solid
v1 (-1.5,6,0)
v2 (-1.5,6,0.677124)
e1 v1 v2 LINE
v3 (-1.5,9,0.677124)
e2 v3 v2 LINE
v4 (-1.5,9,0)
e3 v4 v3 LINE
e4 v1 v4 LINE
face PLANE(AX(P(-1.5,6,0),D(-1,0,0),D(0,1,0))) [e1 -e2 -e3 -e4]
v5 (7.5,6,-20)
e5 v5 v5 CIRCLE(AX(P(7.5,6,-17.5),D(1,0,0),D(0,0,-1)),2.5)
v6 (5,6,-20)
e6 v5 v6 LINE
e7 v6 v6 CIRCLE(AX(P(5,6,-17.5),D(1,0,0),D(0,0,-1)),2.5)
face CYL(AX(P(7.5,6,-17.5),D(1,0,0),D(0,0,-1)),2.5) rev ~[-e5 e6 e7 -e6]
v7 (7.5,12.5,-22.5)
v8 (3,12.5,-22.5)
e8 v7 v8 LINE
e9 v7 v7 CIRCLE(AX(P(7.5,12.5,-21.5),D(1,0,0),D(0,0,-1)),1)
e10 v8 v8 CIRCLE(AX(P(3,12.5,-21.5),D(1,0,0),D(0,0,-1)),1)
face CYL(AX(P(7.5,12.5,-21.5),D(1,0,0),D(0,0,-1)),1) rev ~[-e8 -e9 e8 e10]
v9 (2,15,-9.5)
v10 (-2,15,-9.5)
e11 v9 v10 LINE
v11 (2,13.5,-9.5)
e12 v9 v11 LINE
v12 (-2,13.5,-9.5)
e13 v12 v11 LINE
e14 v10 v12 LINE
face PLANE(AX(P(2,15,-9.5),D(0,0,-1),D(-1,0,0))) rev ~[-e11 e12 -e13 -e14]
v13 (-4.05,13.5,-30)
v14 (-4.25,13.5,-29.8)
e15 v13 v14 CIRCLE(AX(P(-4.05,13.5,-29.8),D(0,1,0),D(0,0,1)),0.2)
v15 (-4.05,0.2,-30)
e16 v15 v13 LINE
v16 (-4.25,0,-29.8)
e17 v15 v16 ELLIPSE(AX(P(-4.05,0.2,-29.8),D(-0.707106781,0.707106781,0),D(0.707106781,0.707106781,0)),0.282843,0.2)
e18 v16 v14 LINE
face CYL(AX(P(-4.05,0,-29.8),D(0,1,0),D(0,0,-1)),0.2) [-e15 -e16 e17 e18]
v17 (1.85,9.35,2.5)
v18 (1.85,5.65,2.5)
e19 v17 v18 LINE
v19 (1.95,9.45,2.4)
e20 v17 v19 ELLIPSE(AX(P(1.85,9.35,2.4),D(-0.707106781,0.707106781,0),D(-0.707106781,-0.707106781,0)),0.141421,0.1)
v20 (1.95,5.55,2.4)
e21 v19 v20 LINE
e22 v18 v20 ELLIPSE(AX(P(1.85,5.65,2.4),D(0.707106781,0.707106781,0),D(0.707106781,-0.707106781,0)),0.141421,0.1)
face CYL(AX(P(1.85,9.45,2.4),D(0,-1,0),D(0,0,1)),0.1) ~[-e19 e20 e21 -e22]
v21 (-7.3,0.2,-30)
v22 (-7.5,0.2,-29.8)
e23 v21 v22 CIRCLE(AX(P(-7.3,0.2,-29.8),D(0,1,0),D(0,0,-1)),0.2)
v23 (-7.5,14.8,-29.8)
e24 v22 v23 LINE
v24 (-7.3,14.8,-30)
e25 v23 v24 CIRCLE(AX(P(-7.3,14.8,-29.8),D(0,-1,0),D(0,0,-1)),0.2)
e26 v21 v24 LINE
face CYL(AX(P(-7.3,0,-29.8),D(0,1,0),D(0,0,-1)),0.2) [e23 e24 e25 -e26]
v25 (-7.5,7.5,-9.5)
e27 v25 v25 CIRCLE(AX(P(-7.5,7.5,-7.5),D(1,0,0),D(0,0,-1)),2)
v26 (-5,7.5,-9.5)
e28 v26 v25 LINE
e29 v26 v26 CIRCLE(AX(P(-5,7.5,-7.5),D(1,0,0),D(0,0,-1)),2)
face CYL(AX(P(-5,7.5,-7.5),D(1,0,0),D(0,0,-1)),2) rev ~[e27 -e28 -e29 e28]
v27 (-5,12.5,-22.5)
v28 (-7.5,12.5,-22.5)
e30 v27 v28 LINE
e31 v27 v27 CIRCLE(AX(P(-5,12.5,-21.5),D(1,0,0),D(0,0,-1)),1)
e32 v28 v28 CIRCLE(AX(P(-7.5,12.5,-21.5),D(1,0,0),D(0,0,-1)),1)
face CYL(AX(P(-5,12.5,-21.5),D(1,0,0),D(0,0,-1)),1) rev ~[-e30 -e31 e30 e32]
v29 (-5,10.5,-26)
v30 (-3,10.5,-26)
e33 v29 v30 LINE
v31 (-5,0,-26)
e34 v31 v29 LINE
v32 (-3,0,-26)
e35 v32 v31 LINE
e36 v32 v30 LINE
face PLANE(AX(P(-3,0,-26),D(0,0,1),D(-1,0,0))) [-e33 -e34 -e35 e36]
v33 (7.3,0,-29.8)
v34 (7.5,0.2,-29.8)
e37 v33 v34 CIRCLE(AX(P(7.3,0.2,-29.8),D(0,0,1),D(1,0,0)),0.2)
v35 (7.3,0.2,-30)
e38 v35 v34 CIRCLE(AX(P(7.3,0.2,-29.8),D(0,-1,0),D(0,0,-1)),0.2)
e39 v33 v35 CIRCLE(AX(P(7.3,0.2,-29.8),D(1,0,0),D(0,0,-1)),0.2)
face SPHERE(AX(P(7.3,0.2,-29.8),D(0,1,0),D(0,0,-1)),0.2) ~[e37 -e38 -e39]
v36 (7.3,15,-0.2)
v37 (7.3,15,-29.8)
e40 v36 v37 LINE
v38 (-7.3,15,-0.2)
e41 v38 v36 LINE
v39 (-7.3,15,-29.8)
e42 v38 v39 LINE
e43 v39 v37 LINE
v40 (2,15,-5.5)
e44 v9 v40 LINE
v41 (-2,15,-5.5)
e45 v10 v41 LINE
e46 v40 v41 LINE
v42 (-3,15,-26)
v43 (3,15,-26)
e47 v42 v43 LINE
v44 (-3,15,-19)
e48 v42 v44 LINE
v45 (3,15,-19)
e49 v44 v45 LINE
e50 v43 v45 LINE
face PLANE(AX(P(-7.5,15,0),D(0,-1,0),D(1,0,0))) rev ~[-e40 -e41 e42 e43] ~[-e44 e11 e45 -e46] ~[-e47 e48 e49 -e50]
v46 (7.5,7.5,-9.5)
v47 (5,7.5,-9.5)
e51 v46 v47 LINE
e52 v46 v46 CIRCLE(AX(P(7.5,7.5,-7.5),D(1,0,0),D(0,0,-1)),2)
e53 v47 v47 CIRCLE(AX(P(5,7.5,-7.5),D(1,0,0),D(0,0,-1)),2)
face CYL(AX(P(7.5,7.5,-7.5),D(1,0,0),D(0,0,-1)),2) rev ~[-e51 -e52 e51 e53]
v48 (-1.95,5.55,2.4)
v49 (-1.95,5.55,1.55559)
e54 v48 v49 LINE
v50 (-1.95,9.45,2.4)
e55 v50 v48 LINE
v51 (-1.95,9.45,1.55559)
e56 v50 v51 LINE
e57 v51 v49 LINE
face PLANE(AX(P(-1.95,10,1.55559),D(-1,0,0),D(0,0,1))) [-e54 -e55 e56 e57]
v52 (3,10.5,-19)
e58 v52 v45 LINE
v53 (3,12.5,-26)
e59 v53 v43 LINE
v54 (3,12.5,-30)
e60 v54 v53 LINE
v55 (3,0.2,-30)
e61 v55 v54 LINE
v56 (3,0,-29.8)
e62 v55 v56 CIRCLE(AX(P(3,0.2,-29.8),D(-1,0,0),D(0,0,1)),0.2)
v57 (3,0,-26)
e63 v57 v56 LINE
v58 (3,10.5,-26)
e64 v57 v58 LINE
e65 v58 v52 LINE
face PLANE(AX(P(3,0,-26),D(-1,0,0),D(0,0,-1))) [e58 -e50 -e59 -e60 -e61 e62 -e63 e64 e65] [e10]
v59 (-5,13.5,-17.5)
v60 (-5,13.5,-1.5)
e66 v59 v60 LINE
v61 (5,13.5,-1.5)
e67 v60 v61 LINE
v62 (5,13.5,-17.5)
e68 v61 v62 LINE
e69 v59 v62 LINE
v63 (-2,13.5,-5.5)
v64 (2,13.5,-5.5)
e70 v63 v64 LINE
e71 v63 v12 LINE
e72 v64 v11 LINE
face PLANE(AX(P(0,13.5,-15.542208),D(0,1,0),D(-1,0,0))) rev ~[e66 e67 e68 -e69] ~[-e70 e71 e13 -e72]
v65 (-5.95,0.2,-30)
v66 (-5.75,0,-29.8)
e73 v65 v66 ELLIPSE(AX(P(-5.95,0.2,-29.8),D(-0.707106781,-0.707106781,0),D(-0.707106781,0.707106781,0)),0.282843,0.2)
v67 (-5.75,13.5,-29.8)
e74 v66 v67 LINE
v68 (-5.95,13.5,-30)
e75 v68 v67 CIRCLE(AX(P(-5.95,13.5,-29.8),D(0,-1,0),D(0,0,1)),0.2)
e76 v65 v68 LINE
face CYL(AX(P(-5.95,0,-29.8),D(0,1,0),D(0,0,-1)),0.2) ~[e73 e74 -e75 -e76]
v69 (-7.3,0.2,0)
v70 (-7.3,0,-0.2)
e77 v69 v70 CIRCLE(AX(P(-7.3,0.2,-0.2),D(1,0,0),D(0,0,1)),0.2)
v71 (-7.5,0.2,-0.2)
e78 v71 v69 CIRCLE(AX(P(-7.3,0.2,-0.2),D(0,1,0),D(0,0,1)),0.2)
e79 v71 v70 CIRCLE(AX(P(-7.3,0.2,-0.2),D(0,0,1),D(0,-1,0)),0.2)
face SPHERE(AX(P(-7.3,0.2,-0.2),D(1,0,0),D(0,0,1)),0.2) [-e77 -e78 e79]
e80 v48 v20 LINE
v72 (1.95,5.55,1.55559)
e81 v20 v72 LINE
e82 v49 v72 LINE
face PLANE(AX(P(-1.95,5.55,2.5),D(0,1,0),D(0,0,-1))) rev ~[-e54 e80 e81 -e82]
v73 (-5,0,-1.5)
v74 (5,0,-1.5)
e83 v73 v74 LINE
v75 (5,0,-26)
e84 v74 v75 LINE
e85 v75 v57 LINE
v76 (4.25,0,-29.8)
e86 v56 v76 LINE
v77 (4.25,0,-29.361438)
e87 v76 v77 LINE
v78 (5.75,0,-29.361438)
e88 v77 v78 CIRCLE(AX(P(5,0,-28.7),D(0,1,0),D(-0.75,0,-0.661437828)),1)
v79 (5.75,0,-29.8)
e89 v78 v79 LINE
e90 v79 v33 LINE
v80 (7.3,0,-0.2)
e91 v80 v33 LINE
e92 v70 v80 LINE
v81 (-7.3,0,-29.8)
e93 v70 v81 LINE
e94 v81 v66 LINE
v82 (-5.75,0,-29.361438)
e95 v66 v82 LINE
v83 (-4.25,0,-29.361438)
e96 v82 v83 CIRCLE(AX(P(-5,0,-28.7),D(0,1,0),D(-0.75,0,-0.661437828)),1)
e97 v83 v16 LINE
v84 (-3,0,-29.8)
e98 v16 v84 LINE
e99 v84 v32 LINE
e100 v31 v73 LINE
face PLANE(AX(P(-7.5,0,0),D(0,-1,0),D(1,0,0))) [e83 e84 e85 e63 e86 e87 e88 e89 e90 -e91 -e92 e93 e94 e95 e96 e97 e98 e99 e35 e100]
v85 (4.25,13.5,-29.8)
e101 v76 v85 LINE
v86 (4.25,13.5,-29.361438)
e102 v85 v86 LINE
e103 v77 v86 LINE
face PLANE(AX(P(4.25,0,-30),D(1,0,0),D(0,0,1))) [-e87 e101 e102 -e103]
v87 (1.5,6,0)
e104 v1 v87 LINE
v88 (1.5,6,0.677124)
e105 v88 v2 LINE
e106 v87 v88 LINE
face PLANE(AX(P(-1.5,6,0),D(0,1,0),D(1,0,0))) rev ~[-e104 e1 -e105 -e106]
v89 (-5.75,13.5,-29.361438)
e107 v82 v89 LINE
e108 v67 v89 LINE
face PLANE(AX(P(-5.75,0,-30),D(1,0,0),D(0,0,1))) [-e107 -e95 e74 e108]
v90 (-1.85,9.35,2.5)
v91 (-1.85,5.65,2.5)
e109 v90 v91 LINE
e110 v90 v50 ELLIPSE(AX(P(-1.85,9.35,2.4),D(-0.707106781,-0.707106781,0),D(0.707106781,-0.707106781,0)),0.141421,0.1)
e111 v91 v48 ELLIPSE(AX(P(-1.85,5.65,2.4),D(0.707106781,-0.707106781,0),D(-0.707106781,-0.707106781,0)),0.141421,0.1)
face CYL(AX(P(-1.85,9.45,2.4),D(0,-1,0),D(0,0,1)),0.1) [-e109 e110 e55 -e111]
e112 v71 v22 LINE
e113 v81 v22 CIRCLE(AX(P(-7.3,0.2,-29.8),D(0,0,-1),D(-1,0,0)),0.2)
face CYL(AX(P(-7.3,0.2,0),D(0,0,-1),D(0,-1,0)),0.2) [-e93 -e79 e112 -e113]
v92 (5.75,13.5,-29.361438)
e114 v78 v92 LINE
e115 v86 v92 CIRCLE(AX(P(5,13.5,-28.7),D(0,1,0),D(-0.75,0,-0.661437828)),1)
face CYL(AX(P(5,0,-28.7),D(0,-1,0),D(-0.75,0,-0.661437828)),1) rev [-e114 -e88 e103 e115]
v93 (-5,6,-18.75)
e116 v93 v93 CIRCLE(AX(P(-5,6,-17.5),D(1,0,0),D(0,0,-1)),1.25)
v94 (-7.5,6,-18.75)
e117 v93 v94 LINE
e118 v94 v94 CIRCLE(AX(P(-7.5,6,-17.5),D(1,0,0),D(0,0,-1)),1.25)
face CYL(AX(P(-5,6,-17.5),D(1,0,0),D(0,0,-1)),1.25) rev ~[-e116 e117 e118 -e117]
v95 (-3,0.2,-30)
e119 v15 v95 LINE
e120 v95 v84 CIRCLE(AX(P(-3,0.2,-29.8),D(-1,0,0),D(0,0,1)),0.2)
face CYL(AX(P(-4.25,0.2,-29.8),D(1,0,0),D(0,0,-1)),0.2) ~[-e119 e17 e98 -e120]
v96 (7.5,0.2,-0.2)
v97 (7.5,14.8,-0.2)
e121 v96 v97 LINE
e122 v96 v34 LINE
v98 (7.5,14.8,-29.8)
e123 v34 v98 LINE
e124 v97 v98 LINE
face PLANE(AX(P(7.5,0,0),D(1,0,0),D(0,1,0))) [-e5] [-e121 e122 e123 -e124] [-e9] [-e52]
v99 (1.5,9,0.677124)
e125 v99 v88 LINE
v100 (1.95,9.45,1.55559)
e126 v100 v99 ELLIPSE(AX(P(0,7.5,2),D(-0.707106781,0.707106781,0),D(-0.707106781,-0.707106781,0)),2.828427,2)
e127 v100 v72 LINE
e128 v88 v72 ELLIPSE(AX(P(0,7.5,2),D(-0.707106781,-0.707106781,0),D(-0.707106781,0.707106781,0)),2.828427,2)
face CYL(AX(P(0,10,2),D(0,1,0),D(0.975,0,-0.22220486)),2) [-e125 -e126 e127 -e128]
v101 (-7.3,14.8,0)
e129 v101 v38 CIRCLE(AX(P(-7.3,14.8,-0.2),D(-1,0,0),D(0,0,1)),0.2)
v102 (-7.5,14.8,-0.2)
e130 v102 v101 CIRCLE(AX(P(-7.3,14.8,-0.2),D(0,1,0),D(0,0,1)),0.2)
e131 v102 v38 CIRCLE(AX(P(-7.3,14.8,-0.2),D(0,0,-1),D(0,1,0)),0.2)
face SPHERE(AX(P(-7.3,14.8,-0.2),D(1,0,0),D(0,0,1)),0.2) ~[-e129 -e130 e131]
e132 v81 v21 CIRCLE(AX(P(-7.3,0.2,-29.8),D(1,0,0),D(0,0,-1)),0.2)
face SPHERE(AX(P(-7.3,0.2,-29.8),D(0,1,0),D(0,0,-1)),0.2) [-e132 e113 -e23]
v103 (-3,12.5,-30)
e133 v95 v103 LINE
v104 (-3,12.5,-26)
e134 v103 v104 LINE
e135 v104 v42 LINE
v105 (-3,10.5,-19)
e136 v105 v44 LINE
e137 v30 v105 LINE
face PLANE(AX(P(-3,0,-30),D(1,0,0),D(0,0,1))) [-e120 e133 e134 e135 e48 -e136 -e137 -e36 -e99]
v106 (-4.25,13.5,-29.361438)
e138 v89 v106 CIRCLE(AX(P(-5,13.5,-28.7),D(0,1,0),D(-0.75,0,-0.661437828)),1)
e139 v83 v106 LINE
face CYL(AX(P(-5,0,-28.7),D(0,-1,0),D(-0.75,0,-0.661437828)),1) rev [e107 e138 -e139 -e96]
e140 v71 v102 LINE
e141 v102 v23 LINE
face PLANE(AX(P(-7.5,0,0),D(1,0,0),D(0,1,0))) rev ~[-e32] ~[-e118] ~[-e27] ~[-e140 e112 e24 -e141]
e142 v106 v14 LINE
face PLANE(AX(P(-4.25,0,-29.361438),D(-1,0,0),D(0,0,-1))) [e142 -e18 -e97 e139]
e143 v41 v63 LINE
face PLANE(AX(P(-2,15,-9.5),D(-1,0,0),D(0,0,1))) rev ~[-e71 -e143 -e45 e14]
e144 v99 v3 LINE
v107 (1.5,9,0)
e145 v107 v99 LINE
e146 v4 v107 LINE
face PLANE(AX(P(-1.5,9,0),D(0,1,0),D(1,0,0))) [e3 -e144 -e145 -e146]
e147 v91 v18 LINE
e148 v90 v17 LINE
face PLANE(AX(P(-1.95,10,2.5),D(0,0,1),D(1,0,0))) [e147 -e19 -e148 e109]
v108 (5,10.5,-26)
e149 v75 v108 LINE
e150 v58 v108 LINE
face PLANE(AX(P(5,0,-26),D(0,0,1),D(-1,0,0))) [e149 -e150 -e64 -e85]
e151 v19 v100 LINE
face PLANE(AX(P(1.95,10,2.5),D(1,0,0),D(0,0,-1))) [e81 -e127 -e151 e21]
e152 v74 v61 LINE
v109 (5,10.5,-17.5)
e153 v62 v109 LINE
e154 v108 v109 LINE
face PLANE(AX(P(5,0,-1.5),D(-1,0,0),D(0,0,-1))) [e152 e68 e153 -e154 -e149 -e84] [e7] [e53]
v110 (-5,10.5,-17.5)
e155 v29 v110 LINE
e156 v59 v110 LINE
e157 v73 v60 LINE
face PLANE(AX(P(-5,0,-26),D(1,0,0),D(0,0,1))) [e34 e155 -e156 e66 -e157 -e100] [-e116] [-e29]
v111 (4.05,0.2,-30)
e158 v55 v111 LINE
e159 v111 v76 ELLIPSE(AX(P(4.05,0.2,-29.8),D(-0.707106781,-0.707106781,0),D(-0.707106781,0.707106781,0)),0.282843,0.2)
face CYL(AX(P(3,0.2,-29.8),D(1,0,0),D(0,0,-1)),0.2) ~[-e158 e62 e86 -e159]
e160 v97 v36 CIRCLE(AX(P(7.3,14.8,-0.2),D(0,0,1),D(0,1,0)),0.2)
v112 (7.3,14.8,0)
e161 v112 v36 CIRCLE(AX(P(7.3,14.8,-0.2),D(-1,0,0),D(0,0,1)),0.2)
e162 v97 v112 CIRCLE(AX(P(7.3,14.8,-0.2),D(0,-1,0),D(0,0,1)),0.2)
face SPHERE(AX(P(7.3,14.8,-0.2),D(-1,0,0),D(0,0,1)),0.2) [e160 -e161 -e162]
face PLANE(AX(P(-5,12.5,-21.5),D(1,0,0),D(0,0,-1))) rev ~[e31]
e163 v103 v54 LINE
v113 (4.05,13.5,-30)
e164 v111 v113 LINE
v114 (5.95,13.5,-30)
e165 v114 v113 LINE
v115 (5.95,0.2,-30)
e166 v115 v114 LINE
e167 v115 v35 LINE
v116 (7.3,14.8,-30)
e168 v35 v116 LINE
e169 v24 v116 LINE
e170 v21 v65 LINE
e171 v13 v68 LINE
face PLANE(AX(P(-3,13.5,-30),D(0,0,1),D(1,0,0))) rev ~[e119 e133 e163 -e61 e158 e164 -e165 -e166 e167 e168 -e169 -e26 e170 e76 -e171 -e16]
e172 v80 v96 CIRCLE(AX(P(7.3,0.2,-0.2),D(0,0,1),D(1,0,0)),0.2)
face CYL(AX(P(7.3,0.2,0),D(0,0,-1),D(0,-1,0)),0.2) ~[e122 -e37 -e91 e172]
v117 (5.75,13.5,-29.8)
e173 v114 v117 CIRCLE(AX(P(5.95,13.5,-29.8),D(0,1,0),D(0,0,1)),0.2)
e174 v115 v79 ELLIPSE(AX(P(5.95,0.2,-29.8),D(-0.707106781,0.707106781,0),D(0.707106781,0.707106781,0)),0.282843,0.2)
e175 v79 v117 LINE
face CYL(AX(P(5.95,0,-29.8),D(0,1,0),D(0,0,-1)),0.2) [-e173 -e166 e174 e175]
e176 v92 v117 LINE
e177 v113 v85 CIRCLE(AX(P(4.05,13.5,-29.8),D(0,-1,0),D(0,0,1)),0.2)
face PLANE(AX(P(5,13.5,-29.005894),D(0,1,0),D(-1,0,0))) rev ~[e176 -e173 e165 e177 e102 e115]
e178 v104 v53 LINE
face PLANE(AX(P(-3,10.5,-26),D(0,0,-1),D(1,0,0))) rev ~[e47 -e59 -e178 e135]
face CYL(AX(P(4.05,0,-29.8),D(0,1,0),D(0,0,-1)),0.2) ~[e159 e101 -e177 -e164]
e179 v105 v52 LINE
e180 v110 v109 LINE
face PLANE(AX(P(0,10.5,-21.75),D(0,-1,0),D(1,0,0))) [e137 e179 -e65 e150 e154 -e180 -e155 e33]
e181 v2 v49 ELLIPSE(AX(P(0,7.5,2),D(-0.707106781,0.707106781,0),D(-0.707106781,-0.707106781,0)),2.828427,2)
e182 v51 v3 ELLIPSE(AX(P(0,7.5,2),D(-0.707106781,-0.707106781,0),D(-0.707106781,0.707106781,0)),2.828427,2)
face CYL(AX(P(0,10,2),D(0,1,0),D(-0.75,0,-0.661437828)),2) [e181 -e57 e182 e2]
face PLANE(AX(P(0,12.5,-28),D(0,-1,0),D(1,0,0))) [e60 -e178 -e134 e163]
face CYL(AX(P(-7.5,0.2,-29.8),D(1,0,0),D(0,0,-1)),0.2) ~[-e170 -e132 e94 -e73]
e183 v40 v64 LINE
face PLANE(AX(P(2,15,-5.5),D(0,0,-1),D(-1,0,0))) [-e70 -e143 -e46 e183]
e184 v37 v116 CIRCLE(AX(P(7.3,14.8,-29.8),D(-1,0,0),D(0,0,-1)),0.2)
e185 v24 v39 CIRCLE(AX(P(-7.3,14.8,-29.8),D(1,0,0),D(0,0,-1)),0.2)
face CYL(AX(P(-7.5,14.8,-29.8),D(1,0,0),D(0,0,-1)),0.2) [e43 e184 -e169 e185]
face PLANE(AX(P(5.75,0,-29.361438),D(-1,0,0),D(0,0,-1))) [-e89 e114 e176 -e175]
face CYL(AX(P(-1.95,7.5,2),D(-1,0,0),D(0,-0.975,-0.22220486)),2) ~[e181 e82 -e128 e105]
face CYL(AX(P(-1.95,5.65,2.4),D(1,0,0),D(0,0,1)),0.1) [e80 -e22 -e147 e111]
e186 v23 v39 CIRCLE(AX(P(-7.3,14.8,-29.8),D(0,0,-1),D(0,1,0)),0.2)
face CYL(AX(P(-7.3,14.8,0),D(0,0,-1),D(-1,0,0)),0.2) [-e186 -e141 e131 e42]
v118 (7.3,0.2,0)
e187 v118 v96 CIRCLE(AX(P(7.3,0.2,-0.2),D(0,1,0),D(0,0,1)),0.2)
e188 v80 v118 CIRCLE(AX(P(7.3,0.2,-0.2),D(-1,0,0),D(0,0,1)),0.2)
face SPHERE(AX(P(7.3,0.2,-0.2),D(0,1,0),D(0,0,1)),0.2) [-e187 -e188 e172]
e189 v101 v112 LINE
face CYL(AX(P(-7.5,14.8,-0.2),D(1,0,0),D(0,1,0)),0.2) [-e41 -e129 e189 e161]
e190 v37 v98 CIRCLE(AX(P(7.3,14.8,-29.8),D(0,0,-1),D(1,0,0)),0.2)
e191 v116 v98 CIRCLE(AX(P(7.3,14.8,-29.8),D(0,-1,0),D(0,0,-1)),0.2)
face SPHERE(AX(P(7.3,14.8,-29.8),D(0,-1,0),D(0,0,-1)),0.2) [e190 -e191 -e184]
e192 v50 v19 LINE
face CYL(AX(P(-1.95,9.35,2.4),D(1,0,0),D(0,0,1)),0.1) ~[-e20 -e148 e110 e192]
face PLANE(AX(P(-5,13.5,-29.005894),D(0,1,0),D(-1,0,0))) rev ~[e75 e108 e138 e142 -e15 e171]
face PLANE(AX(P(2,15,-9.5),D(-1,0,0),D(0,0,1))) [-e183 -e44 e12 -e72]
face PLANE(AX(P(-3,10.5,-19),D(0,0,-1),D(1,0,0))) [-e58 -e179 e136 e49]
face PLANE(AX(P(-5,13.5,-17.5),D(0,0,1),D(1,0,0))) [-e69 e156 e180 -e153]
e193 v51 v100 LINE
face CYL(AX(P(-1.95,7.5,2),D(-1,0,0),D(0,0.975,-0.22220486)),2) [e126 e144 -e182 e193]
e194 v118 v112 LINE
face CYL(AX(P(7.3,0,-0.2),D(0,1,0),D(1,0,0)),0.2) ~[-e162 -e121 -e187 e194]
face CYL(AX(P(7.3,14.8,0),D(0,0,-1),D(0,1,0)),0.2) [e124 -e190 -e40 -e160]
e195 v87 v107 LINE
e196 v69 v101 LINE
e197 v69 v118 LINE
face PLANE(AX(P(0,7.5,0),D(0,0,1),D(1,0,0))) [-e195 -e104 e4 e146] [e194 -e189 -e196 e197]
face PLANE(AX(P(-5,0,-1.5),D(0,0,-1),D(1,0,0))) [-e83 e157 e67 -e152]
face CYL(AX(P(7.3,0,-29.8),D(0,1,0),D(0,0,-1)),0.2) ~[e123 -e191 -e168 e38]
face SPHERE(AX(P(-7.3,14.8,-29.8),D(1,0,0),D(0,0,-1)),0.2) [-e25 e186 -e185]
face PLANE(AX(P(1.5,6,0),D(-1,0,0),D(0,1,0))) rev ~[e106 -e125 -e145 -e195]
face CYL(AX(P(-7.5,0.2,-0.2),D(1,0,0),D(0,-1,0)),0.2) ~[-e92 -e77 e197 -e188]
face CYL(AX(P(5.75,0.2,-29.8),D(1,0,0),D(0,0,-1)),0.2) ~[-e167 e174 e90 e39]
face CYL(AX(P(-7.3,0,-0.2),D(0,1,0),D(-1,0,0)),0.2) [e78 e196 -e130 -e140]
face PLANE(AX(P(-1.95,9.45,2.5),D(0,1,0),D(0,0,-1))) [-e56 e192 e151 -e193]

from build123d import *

# Parameters (mm, degrees)
SKETCH_1_W           = 15
SKETCH_1_H           = 15
EXTRUDE_1_DEPTH      = 30
SKETCH_2_W           = 3
SKETCH_2_H           = 3
EXTRUDE_2_DEPTH      = 1
EXTRUDE_3_DEPTH      = 1
EXTRUDE_3_DEPTH_BACK = 4
CUT_EXTRUDE_1_REACH  = 36.847
FILLET_1_R           = 0.1
CUT_EXTRUDE_2_DEPTH  = 13.5
SKETCH_6_W           = 10
SKETCH_6_H           = 8.5
EXTRUDE_4_DEPTH      = 3
SKETCH_7_W           = 6
SKETCH_7_H           = 4
EXTRUDE_5_DEPTH      = 1
SKETCH_8_W           = 6
SKETCH_8_H           = 7
CUT_EXTRUDE_3_DEPTH  = 33.657311586
CUT_EXTRUDE_4_DEPTH  = 13.5
CUT_EXTRUDE_5_REACH  = 36.369
SKETCH_11_W          = 4
SKETCH_11_H          = 4
CUT_EXTRUDE_6_REACH  = 38.742
SKETCH_12_R          = 2.5
SKETCH_12_R_2        = 2
SKETCH_12_R_3        = 1
CUT_EXTRUDE_7_REACH  = 37.795
SKETCH_14_R          = 2
SKETCH_14_R_2        = 1
SKETCH_14_R_3        = 1.25
FILLET_2_R           = 0.2


with BuildPart() as part:
    # 草图1 → 凸台-拉伸1 (new body)
    with BuildSketch(Plane.XY):
        with Locations((0, 7.5)):
            Rectangle(SKETCH_1_W, SKETCH_1_H)
    extrude(amount=-EXTRUDE_1_DEPTH)

    # 草图2 → 凸台-拉伸2 (add)
    with BuildSketch(Plane.XY):
        with Locations((0, 7.5)):
            Rectangle(SKETCH_2_W, SKETCH_2_H)
    extrude(amount=EXTRUDE_2_DEPTH)

    # 草图3 → 凸台-拉伸3 (add, two sides: drawn at the far end of the back side and taken through both)
    with BuildSketch(Plane.XZ.offset(-6).offset(-EXTRUDE_3_DEPTH_BACK)):
        with BuildLine():
            Line((-1.95, 2.5), (1.95, 2.5))
            Line((1.95, 2.5), (1.95, 1.555590279))
            ThreePointArc((1.95, 1.555590279), (1.780042303, 1.088161527), (1.5, 0.677124344))
            Line((1.5, 0.677124344), (-1.5, 0.677124344))
            ThreePointArc((-1.5, 0.677124344), (-1.780042303, 1.088161527), (-1.95, 1.555590279))
            Line((-1.95, 1.555590279), (-1.95, 2.5))
        make_face()
    extrude(amount=EXTRUDE_3_DEPTH + EXTRUDE_3_DEPTH_BACK)

    # 草图4 → 切除-拉伸1 (cut, up to next)
    with BuildSketch(Plane.ZY.offset(1.95), mode=Mode.PRIVATE) as cut_extrude_1_sk1:
        with BuildLine():
            Line((2.5, 9.45), (1.555590279, 9.45))
            ThreePointArc((1.555590279, 9.45), (1.088161527, 9.280042303), (0.677124344, 9))
            Line((0.677124344, 9), (0.677124344, 10))
            Line((0.677124344, 10), (2.5, 10))
            Line((2.5, 10), (2.5, 9.45))
        make_face()
    cut_extrude_1_tool1 = extrude(cut_extrude_1_sk1.sketch, amount=-CUT_EXTRUDE_1_REACH, mode=Mode.PRIVATE) & part.part
    # 草图4 → 切除-拉伸1 (cut, up to next)
    with BuildSketch(Plane.ZY.offset(1.95), mode=Mode.PRIVATE) as cut_extrude_1_sk2:
        with BuildLine():
            Line((2.5, 5.55), (1.555590279, 5.55))
            ThreePointArc((1.555590279, 5.55), (1.088161527, 5.719957697), (0.677124344, 6))
            Line((0.677124344, 6), (0.677124344, 5))
            Line((0.677124344, 5), (2.5, 5))
            Line((2.5, 5), (2.5, 5.55))
        make_face()
    cut_extrude_1_tool2 = extrude(cut_extrude_1_sk2.sketch, amount=-CUT_EXTRUDE_1_REACH, mode=Mode.PRIVATE) & part.part
    add(cut_extrude_1_tool1.solids().sort_by_distance((-1.95, 9.669375, 1.500125))[0], mode=Mode.SUBTRACT)
    add(cut_extrude_1_tool2.solids().sort_by_distance((-1.95, 5.330625, 1.500125))[0], mode=Mode.SUBTRACT)

    # 圆角1
    fillet_1_edges = [part.edges().sort_by_distance(p)[0] for p in [
        (1.95, 7.5, 2.5),
        (-1.95, 7.5, 2.5),
        (0, 9.45, 2.5),
        (0, 5.55, 2.5),
    ]]
    fillet(fillet_1_edges, radius=FILLET_1_R)

    # 草图5 → 切除-拉伸2 (cut)
    with BuildSketch(Plane.XZ):
        Polygon((-5, -1.5), (5, -1.5), (5, -26), (3, -26), (3, -30), (-3, -30), (-3, -26), (-5, -26), align=None)
    extrude(amount=-CUT_EXTRUDE_2_DEPTH, mode=Mode.SUBTRACT)

    # 草图6 → 凸台-拉伸4 (add)
    with BuildSketch(Plane.XZ.offset(-13.5)):
        with Locations((0, -21.75)):
            Rectangle(SKETCH_6_W, SKETCH_6_H)
    extrude(amount=EXTRUDE_4_DEPTH)

    # 草图7 → 凸台-拉伸5 (add)
    with BuildSketch(Plane.XZ.offset(-13.5)):
        with Locations((0, -28)):
            Rectangle(SKETCH_7_W, SKETCH_7_H)
    extrude(amount=EXTRUDE_5_DEPTH)

    # 草图8 → 切除-拉伸3 (cut, through all)
    with BuildSketch(Plane.XZ.offset(-10.5)):
        with Locations((0, -22.5)):
            Rectangle(SKETCH_8_W, SKETCH_8_H)
    extrude(amount=-CUT_EXTRUDE_3_DEPTH, mode=Mode.SUBTRACT)

    # 草图10 → 切除-拉伸4 (cut)
    with BuildSketch(Plane.XZ):
        with BuildLine():
            Line((-5.75, -30), (-5.75, -29.361437828))
            ThreePointArc((-5.75, -29.361437828), (-5, -27.7), (-4.25, -29.361437828))
            Line((-4.25, -29.361437828), (-4.25, -30))
            Line((-4.25, -30), (-5.75, -30))
        make_face()
        with BuildLine():
            Line((5.75, -30), (4.25, -30))
            Line((4.25, -30), (4.25, -29.361437828))
            ThreePointArc((4.25, -29.361437828), (5, -27.7), (5.75, -29.361437828))
            Line((5.75, -29.361437828), (5.75, -30))
        make_face()
    extrude(amount=-CUT_EXTRUDE_4_DEPTH, mode=Mode.SUBTRACT)

    # 草图11 → 切除-拉伸5 (cut, up to next)
    with BuildSketch(Plane(origin=(0, 15, 0), x_dir=(-1, 0, 0), z_dir=(0, 1, 0)), mode=Mode.PRIVATE) as cut_extrude_5_sk1:
        with Locations((0, -7.5)):
            Rectangle(SKETCH_11_W, SKETCH_11_H)
    cut_extrude_5_tool1 = extrude(cut_extrude_5_sk1.sketch, amount=-CUT_EXTRUDE_5_REACH, mode=Mode.PRIVATE) & part.part
    add(cut_extrude_5_tool1.solids().sort_by_distance((0, 15, -7.5))[0], mode=Mode.SUBTRACT)

    # 草图12 → 切除-拉伸6 (cut, up to next)
    with BuildSketch(Plane(origin=(7.5, 0, 0), x_dir=(0, 0, -1), z_dir=(1, 0, 0)), mode=Mode.PRIVATE) as cut_extrude_6_sk1:
        with Locations((17.5, 6)):
            Circle(SKETCH_12_R)
    cut_extrude_6_tool1 = extrude(cut_extrude_6_sk1.sketch, amount=-CUT_EXTRUDE_6_REACH, mode=Mode.PRIVATE) & part.part
    # 草图12 → 切除-拉伸6 (cut, up to next)
    with BuildSketch(Plane(origin=(7.5, 0, 0), x_dir=(0, 0, -1), z_dir=(1, 0, 0)), mode=Mode.PRIVATE) as cut_extrude_6_sk2:
        with Locations((7.5, 7.5)):
            Circle(SKETCH_12_R_2)
    cut_extrude_6_tool2 = extrude(cut_extrude_6_sk2.sketch, amount=-CUT_EXTRUDE_6_REACH, mode=Mode.PRIVATE) & part.part
    # 草图12 → 切除-拉伸6 (cut, up to next)
    with BuildSketch(Plane(origin=(7.5, 0, 0), x_dir=(0, 0, -1), z_dir=(1, 0, 0)), mode=Mode.PRIVATE) as cut_extrude_6_sk3:
        with Locations((21.5, 12.5)):
            Circle(SKETCH_12_R_3)
    cut_extrude_6_tool3 = extrude(cut_extrude_6_sk3.sketch, amount=-CUT_EXTRUDE_6_REACH, mode=Mode.PRIVATE) & part.part
    add(cut_extrude_6_tool1.solids().sort_by_distance((7.5, 6, -17.5))[0], mode=Mode.SUBTRACT)
    add(cut_extrude_6_tool2.solids().sort_by_distance((7.5, 7.5, -7.5))[0], mode=Mode.SUBTRACT)
    add(cut_extrude_6_tool3.solids().sort_by_distance((7.5, 12.5, -21.5))[0], mode=Mode.SUBTRACT)

    # 草图14 → 切除-拉伸7 (cut, up to next)
    with BuildSketch(Plane(origin=(-5, 0, 0), x_dir=(0, 0, -1), z_dir=(1, 0, 0)), mode=Mode.PRIVATE) as cut_extrude_7_sk1:
        with Locations((7.5, 7.5)):
            Circle(SKETCH_14_R)
    cut_extrude_7_tool1 = extrude(cut_extrude_7_sk1.sketch, amount=-CUT_EXTRUDE_7_REACH, mode=Mode.PRIVATE) & part.part
    # 草图14 → 切除-拉伸7 (cut, up to next)
    with BuildSketch(Plane(origin=(-5, 0, 0), x_dir=(0, 0, -1), z_dir=(1, 0, 0)), mode=Mode.PRIVATE) as cut_extrude_7_sk2:
        with Locations((21.5, 12.5)):
            Circle(SKETCH_14_R_2)
    cut_extrude_7_tool2 = extrude(cut_extrude_7_sk2.sketch, amount=-CUT_EXTRUDE_7_REACH, mode=Mode.PRIVATE) & part.part
    # 草图14 → 切除-拉伸7 (cut, up to next)
    with BuildSketch(Plane(origin=(-5, 0, 0), x_dir=(0, 0, -1), z_dir=(1, 0, 0)), mode=Mode.PRIVATE) as cut_extrude_7_sk3:
        with Locations((17.5, 6)):
            Circle(SKETCH_14_R_3)
    cut_extrude_7_tool3 = extrude(cut_extrude_7_sk3.sketch, amount=-CUT_EXTRUDE_7_REACH, mode=Mode.PRIVATE) & part.part
    add(cut_extrude_7_tool1.solids().sort_by_distance((-5, 7.5, -7.5))[0], mode=Mode.SUBTRACT)
    add(cut_extrude_7_tool2.solids().sort_by_distance((-5, 12.5, -21.5))[0], mode=Mode.SUBTRACT)
    add(cut_extrude_7_tool3.solids().sort_by_distance((-5, 6, -17.5))[0], mode=Mode.SUBTRACT)

    # 圆角2
    fillet_2_edges = [part.edges().sort_by_distance(p)[0] for p in [
        (7.5, 7.5, -30),
        (0, 15, -30),
        (-3.625, 0, -30),
        (-4.25, 6.75, -30),
        (-5.75, 6.75, -30),
        (6.625, 0, -30),
        (5.75, 6.75, -30),
        (4.25, 6.75, -30),
        (-7.5, 7.5, -30),
        (0, 15, 0),
        (7.5, 7.5, 0),
        (0, 0, 0),
        (-7.5, 7.5, 0),
        (-6.625, 0, -30),
        (-7.5, 15, -15),
        (7.5, 15, -15),
        (7.5, 0, -15),
        (-7.5, 0, -15),
        (3.625, 0, -30),
    ]]
    fillet(fillet_2_edges, radius=FILLET_2_R)


solid = part.part
